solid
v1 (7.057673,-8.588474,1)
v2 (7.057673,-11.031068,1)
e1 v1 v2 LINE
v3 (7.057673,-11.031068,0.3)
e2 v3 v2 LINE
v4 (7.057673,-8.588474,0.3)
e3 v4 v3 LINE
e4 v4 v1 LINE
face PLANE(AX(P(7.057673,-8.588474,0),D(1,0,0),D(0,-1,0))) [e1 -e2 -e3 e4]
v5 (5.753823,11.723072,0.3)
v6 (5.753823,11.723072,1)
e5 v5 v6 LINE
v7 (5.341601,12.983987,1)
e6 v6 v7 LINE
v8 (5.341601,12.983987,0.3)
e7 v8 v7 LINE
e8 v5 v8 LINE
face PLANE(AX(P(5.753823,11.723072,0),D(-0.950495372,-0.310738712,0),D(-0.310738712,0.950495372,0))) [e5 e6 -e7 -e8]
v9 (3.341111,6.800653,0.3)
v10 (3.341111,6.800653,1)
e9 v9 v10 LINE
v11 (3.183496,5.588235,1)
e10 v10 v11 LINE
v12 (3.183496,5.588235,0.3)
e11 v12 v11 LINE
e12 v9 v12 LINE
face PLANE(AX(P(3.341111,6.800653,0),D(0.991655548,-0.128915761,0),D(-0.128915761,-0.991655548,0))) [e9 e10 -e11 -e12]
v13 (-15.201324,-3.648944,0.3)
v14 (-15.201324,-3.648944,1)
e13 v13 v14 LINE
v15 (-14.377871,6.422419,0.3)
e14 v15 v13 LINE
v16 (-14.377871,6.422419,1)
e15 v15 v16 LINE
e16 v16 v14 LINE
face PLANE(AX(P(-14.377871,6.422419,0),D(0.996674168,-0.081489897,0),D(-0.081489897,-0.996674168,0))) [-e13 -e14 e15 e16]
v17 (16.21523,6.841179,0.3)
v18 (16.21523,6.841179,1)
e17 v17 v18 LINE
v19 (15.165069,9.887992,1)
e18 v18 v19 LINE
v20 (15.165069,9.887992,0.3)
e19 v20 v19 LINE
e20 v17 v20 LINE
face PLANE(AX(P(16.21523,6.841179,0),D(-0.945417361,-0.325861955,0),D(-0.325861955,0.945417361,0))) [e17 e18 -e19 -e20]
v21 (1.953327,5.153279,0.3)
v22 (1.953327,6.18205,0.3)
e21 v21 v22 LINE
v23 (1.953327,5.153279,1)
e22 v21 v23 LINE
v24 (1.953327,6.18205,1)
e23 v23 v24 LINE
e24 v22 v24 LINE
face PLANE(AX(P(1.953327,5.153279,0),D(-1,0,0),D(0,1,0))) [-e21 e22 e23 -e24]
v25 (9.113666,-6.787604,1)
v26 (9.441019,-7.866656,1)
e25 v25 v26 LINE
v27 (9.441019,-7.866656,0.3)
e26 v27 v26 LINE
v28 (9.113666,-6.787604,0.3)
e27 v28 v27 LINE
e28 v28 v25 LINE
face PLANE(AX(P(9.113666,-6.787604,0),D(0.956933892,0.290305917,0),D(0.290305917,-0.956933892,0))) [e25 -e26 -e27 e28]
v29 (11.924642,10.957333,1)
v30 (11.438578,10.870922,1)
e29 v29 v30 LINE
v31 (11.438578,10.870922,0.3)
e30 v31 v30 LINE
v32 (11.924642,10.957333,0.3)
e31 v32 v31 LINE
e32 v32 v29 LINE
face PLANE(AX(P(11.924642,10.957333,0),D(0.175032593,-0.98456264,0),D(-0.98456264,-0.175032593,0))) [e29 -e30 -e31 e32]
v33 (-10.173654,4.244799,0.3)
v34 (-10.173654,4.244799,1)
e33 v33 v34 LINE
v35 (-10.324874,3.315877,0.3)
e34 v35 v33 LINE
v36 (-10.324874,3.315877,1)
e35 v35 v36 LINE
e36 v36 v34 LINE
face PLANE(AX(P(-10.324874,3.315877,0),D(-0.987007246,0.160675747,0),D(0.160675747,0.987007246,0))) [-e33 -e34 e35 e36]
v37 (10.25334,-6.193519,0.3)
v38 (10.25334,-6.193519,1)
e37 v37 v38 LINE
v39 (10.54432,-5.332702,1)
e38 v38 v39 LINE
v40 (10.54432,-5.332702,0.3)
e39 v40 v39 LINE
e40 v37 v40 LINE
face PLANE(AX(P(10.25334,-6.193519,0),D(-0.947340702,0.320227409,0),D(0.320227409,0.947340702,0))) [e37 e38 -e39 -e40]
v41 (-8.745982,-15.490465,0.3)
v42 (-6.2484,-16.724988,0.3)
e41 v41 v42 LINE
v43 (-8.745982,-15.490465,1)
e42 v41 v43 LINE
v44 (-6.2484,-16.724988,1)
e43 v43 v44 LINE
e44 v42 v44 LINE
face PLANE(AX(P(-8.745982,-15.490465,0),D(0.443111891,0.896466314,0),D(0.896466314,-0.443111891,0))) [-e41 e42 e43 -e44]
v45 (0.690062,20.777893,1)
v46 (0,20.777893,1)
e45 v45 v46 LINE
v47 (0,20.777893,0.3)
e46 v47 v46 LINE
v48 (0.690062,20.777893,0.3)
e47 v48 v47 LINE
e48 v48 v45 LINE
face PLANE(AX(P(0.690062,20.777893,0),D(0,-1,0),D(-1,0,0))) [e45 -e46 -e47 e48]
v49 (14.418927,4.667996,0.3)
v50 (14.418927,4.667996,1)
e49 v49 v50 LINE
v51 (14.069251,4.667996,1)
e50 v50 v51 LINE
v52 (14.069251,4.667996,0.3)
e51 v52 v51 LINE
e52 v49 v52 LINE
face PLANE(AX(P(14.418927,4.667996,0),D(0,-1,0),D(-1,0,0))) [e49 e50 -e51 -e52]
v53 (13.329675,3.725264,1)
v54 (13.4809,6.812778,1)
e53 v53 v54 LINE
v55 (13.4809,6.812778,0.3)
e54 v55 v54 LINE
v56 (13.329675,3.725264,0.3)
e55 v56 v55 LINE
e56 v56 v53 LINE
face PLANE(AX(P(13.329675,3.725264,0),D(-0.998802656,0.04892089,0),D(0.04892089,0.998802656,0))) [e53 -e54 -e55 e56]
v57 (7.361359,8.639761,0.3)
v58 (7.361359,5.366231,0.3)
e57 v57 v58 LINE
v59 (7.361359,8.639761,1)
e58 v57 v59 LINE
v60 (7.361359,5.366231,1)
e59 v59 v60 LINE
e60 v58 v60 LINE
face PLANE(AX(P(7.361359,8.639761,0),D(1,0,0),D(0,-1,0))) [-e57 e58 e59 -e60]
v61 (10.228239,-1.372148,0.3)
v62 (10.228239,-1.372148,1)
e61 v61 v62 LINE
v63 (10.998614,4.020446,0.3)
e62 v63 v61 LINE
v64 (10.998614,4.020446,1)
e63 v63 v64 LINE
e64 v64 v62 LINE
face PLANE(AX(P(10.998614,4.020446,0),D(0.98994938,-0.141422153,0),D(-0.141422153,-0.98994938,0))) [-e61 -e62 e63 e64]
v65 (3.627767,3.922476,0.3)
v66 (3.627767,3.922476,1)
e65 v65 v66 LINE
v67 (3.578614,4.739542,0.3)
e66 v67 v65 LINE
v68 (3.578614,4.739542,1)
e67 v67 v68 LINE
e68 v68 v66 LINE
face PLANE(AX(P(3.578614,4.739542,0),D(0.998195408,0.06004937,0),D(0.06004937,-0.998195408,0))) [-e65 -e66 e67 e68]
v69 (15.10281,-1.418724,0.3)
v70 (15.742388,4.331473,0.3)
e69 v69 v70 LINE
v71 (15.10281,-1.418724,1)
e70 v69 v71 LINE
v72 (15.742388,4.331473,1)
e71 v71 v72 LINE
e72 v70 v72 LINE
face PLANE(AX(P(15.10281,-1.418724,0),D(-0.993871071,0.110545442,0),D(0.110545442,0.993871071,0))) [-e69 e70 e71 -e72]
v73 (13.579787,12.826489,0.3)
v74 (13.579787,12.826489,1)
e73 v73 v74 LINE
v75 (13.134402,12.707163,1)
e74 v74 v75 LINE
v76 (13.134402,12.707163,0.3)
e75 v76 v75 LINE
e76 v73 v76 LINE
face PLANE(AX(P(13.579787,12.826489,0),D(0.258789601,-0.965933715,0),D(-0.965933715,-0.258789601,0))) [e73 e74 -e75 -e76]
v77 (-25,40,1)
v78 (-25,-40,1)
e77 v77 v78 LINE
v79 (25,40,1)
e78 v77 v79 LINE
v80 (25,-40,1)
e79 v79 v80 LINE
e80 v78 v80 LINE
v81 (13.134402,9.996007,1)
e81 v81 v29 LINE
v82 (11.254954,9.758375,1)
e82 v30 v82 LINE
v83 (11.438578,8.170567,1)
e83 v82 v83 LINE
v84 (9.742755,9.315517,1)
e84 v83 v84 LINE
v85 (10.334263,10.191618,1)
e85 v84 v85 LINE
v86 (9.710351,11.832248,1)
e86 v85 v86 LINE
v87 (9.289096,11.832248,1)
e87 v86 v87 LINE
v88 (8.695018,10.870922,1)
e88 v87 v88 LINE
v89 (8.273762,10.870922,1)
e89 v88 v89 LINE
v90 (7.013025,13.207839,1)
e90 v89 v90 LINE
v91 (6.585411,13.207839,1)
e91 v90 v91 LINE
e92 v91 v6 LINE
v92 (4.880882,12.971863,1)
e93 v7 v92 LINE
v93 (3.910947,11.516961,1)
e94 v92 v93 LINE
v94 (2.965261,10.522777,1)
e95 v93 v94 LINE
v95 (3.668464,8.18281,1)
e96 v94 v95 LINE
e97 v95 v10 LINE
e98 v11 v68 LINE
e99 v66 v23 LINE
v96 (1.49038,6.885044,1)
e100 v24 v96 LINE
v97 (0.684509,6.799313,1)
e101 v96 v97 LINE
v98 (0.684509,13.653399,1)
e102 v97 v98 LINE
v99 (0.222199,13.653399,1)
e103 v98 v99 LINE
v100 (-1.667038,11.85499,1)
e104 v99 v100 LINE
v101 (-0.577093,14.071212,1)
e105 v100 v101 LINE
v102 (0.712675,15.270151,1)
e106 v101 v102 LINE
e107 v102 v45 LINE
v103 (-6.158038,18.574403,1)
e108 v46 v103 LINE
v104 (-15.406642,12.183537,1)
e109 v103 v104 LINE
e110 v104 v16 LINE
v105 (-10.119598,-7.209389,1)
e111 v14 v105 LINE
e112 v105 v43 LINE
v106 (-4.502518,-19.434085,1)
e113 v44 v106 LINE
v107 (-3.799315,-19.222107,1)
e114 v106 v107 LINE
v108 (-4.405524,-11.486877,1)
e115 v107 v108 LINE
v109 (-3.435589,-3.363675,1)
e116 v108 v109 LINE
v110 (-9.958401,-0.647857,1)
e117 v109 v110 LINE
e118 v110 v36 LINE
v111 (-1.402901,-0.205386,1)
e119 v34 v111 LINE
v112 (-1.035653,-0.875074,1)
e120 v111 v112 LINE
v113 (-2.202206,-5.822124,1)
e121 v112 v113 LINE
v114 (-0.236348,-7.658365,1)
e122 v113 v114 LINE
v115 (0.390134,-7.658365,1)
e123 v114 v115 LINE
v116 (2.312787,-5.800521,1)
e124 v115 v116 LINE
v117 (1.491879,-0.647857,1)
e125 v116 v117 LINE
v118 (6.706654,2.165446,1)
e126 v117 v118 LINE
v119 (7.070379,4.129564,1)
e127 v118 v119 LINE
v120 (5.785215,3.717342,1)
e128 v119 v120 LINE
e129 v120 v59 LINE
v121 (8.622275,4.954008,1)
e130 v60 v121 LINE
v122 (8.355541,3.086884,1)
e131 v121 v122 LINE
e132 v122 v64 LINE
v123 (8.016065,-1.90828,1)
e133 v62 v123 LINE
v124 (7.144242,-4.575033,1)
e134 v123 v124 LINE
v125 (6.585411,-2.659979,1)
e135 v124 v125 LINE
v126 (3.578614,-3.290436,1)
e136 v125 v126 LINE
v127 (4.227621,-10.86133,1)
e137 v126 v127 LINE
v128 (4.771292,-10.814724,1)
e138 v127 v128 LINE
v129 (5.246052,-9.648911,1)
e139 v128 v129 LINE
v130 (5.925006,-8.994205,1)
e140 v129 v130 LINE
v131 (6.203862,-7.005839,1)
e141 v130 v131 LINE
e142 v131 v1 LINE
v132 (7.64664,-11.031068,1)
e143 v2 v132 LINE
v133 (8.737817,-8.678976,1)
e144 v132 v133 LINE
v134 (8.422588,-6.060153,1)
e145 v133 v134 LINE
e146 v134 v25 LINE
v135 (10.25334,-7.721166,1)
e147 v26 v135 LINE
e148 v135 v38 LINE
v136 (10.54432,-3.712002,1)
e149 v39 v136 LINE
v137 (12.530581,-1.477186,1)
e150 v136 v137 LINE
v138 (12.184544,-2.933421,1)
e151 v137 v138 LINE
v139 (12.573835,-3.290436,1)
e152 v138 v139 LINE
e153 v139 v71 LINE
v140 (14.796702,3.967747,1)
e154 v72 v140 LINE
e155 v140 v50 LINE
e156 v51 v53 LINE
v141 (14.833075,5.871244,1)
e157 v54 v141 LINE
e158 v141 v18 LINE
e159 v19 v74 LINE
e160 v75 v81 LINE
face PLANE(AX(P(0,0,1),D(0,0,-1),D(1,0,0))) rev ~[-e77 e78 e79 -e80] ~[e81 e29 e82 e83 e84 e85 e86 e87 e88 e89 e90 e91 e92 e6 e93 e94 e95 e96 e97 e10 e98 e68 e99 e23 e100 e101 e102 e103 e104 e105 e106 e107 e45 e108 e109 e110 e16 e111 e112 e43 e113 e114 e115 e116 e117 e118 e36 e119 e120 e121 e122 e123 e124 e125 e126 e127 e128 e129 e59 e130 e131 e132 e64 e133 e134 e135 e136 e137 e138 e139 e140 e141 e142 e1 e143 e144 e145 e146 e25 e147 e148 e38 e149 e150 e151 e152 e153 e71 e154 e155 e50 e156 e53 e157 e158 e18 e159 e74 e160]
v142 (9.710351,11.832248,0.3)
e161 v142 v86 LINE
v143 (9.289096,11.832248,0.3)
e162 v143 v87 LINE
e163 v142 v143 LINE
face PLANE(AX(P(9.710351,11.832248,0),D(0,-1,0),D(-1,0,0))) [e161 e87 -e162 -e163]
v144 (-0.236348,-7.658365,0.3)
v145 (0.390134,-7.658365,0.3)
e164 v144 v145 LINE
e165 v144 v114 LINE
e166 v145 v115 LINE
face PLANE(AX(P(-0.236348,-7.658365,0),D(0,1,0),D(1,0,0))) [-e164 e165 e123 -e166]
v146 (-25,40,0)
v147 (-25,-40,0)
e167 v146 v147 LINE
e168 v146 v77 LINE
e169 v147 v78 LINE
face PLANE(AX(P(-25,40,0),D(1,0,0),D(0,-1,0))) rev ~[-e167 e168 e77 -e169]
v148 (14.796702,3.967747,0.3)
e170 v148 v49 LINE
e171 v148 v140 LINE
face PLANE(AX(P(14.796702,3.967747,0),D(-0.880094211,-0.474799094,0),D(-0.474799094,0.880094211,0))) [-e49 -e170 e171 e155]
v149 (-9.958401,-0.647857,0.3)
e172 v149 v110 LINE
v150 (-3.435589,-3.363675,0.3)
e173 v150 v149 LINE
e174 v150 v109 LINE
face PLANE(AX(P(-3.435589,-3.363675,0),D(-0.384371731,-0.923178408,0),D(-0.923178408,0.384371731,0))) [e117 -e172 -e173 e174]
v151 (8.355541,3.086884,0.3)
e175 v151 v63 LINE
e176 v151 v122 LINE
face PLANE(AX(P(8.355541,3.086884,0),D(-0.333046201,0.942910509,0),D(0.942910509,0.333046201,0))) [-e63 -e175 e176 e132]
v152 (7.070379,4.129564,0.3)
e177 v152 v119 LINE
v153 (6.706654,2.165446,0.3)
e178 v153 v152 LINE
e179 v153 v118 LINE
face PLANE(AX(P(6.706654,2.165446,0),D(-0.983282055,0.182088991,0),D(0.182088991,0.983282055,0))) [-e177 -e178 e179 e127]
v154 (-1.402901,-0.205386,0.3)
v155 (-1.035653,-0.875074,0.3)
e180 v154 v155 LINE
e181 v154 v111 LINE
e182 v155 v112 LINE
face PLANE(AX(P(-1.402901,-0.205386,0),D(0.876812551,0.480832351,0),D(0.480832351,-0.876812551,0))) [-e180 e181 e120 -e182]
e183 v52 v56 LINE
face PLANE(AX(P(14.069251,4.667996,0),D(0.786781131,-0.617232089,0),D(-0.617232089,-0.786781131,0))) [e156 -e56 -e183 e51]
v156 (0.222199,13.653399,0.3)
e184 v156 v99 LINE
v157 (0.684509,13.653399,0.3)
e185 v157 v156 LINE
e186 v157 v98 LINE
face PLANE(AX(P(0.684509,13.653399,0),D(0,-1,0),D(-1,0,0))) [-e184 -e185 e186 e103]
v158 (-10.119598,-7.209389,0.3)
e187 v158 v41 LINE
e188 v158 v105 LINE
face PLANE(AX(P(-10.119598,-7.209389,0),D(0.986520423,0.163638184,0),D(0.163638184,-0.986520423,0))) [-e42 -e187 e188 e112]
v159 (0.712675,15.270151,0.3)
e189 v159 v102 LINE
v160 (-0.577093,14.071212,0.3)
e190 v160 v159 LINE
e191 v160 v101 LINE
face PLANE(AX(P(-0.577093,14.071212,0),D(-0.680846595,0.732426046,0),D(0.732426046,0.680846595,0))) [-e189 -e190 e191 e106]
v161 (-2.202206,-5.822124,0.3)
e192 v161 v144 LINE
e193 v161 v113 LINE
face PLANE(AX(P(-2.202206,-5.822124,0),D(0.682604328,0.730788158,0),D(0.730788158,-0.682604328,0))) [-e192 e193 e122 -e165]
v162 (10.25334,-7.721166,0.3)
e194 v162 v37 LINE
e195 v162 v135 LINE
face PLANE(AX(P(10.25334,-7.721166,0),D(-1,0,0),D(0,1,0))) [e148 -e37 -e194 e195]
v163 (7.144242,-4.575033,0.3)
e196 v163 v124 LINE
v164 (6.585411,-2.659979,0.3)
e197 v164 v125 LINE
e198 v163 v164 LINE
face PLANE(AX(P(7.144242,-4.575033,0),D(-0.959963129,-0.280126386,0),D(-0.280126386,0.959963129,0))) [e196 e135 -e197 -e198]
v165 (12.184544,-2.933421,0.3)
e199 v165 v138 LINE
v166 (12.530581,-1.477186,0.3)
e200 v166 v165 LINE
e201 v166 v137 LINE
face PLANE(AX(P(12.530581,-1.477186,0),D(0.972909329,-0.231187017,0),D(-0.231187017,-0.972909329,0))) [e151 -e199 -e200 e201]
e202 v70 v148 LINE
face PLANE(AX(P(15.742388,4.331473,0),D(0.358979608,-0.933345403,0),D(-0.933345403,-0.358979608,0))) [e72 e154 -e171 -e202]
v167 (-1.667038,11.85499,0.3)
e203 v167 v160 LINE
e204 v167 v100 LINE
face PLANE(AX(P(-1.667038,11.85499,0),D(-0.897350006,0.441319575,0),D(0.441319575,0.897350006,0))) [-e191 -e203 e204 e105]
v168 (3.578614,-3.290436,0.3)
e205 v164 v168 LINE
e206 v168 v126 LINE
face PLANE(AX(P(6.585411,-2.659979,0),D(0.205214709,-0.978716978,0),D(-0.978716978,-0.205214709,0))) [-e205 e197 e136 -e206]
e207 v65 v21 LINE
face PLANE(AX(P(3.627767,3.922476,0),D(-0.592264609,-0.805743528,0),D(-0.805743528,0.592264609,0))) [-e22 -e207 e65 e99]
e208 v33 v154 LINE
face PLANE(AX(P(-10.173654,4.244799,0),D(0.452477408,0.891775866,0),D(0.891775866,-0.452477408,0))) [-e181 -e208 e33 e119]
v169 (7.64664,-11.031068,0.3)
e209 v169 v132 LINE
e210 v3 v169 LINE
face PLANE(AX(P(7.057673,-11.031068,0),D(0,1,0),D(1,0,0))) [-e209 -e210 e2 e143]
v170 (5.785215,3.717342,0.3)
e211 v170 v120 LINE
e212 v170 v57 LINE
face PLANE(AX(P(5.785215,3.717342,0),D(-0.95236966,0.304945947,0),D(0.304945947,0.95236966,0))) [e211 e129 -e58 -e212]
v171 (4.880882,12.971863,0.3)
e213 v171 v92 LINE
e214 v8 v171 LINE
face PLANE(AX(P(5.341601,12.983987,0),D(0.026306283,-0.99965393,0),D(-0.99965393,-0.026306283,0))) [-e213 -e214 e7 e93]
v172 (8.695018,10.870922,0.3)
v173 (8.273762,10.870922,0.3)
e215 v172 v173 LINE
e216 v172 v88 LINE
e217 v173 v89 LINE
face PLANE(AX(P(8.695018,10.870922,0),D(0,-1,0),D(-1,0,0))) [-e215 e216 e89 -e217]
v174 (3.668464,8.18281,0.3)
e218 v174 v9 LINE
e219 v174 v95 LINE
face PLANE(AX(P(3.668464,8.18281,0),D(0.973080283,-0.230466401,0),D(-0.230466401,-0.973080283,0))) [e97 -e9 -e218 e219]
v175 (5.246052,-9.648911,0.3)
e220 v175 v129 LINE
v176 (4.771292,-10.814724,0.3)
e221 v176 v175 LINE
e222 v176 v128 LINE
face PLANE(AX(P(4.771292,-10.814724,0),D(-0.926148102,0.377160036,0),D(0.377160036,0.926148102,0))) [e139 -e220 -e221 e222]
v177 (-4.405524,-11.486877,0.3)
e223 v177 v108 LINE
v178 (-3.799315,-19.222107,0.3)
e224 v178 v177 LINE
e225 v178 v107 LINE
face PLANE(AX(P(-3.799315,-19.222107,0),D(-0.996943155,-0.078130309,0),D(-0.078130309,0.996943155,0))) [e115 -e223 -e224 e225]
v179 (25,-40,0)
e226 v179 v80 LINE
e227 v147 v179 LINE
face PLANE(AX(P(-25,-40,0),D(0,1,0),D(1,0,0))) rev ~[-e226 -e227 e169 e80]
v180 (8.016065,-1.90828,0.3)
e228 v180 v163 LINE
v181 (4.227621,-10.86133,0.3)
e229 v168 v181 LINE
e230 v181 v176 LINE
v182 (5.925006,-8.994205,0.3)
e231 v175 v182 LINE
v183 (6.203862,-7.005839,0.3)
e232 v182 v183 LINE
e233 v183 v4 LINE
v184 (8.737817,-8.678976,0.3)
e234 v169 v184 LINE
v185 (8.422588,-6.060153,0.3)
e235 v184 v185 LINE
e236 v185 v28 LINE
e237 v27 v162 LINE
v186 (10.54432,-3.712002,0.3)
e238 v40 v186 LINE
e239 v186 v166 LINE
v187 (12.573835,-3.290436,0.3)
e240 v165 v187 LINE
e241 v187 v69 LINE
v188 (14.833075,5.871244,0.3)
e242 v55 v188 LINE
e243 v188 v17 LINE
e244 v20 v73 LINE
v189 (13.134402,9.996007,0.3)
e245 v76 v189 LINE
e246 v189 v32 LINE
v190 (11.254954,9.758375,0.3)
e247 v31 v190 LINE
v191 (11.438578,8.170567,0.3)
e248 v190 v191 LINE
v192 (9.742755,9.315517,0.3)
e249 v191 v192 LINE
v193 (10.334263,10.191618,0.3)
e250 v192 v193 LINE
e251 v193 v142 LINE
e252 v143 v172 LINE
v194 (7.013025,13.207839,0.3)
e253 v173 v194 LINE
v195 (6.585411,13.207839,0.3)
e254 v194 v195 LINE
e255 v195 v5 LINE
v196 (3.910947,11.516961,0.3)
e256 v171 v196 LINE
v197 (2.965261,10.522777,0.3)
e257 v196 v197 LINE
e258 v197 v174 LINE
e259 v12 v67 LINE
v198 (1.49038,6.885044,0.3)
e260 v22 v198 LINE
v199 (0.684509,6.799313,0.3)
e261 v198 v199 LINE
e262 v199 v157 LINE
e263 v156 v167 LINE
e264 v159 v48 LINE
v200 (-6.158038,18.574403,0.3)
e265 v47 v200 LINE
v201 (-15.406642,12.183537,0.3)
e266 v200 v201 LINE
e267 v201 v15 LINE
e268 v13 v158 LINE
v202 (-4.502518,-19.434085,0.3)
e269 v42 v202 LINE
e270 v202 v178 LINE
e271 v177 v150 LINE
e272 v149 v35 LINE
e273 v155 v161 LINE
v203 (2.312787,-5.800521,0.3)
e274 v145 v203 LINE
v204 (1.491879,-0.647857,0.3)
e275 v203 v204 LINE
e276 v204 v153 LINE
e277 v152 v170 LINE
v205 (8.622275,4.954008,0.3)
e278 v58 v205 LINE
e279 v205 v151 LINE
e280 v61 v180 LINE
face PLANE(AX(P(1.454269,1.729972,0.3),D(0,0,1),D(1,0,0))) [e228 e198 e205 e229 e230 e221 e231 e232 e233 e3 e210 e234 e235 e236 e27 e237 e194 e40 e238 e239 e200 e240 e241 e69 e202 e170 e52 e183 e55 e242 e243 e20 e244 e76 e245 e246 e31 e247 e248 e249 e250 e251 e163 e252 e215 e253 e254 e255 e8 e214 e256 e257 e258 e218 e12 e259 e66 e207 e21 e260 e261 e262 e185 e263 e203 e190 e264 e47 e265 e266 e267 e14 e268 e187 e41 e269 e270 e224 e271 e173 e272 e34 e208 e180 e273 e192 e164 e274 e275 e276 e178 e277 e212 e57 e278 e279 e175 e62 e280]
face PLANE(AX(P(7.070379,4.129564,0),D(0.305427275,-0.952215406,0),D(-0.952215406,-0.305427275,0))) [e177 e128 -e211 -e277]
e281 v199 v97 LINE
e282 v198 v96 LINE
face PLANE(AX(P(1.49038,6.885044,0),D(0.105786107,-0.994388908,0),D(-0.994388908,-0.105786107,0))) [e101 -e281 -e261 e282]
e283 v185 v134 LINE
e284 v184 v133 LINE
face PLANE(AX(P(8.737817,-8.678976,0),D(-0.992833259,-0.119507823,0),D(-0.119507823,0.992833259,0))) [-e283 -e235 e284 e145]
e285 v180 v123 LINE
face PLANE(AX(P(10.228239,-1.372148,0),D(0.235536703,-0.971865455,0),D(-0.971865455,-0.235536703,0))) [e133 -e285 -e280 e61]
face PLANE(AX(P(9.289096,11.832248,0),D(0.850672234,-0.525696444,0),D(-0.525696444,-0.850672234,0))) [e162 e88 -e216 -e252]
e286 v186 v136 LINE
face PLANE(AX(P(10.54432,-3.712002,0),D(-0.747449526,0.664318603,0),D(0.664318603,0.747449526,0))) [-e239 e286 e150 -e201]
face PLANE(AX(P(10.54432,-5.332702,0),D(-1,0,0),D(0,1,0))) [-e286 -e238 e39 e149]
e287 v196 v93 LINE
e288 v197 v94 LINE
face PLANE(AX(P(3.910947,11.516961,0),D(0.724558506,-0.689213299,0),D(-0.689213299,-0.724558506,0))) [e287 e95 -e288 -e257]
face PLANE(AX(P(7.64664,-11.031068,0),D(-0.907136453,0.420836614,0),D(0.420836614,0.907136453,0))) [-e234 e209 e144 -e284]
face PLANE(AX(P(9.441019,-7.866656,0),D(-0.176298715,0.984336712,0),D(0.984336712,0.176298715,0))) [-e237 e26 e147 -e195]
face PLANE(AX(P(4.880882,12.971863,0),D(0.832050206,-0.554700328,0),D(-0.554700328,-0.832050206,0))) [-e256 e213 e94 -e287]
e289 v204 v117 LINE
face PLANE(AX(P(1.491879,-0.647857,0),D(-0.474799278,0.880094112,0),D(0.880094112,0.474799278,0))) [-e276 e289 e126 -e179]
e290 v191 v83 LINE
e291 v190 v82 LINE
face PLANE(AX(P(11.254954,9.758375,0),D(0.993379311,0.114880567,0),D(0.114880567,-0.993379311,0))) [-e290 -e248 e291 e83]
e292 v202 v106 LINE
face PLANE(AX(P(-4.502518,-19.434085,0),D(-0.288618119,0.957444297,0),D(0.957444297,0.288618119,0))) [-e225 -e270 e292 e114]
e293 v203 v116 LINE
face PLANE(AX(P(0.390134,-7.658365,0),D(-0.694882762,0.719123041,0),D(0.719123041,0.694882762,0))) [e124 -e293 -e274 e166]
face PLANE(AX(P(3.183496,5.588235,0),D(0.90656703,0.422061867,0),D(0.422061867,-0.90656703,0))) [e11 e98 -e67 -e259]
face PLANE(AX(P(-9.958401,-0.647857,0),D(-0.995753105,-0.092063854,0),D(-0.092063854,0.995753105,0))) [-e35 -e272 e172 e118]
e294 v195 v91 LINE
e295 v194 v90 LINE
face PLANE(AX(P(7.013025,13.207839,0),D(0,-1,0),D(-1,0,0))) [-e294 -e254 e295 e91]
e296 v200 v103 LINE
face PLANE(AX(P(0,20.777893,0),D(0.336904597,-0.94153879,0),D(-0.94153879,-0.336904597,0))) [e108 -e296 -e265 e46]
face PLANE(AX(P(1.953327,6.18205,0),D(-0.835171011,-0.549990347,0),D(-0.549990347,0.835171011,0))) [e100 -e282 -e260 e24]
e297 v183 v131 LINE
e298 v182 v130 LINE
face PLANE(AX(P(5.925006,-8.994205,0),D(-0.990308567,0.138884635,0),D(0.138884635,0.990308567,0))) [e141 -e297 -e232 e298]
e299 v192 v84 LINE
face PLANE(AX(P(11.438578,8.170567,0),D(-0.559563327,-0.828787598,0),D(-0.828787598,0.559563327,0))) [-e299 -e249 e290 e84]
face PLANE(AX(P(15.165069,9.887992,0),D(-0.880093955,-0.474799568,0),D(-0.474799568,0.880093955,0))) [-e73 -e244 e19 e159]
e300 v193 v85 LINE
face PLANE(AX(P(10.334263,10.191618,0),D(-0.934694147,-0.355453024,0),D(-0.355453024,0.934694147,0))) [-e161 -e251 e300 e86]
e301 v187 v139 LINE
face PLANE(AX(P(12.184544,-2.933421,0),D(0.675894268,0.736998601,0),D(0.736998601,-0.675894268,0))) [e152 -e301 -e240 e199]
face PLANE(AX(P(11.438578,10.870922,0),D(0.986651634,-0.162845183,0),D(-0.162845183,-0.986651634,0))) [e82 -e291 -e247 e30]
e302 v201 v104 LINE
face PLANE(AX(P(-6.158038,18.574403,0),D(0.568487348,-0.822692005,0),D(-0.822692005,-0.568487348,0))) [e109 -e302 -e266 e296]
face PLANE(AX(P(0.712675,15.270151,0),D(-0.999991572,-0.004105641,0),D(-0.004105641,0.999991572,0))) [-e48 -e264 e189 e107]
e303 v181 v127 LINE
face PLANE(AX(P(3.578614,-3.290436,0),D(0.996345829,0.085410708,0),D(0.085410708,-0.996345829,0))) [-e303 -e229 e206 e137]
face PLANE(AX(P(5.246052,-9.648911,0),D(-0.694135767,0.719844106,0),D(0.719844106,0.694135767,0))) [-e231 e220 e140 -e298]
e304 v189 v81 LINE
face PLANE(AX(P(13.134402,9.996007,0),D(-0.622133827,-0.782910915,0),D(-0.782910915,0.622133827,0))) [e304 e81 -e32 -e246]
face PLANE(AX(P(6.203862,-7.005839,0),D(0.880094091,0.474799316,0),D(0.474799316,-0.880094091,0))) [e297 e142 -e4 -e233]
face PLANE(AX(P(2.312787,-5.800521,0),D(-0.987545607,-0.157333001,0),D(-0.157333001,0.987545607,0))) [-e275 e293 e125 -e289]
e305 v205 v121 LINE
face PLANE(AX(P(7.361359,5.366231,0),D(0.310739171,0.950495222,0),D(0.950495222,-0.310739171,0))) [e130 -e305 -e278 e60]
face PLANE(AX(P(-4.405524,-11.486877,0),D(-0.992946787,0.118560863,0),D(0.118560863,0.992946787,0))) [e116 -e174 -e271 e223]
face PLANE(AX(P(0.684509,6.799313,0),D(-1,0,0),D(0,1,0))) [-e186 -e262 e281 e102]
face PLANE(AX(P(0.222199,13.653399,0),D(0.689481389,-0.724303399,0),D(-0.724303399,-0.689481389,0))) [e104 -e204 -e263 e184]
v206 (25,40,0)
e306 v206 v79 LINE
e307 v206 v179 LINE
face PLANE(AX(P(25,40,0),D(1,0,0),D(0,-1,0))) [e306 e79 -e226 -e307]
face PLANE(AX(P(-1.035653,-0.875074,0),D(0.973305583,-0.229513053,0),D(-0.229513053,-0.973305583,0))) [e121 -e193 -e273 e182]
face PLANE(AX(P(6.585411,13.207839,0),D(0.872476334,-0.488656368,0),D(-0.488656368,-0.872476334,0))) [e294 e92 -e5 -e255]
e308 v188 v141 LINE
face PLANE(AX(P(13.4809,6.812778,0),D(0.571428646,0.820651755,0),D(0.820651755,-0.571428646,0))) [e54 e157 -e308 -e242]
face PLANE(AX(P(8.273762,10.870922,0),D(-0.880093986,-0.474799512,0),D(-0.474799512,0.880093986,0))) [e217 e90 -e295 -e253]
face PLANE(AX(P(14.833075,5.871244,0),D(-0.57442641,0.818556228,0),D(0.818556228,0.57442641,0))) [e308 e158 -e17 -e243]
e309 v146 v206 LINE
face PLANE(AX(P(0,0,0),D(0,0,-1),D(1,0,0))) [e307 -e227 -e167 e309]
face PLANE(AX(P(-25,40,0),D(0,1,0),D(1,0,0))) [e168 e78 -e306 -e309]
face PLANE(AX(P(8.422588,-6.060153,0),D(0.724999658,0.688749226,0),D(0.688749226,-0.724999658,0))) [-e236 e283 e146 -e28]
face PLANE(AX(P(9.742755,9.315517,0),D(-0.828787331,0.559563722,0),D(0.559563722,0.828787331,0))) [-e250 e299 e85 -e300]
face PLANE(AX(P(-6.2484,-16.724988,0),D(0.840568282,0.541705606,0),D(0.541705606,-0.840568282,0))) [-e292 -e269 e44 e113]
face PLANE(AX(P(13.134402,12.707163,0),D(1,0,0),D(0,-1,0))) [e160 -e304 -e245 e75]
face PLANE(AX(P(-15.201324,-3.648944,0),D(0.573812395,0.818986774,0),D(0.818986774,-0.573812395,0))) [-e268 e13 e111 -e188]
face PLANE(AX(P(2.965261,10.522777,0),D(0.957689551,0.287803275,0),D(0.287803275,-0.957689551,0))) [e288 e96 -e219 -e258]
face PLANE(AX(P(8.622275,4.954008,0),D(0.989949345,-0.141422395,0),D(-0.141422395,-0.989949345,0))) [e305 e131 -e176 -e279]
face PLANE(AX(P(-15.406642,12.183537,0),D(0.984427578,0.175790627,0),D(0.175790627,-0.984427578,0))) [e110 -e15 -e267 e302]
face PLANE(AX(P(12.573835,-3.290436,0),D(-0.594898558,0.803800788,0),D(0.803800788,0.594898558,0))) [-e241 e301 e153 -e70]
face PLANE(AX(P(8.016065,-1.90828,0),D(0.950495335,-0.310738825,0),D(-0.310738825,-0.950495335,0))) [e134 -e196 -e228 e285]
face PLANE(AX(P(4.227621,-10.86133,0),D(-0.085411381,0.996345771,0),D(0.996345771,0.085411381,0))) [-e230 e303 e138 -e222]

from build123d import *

# Parameters (mm, degrees)
F1_DEPTH = 0.3
F2_W     = 50
F2_H     = 80
F3_DEPTH = 1


with BuildPart() as f1:
    # F0 (on Top) → F1 (new body)
    with BuildSketch(Plane.XY):
        Polygon((0.712675, 15.270151), (0.690062, 20.777893), (0, 20.777893), (-6.158038, 18.574403), (-15.406642, 12.183537), (-14.377871, 6.422419), (-15.201324, -3.648944), (-10.119598, -7.209389), (-8.745982, -15.490465), (-6.2484, -16.724988), (-4.502518, -19.434085), (-3.799315, -19.222107), (-4.405524, -11.486877), (-3.435589, -3.363675), (-9.958401, -0.647857), (-10.324874, 3.315877), (-10.173654, 4.244799), (-1.402901, -0.205386), (-1.035653, -0.875074), (-2.202206, -5.822124), (-0.236348, -7.658365), (0.390134, -7.658365), (2.312787, -5.800521), (1.491879, -0.647857), (6.706654, 2.165446), (7.070379, 4.129564), (5.785215, 3.717342), (7.361359, 8.639761), (7.361359, 5.366231), (8.622275, 4.954008), (8.355541, 3.086884), (10.998614, 4.020446), (10.228239, -1.372148), (8.016065, -1.90828), (7.144242, -4.575033), (6.585411, -2.659979), (3.578614, -3.290436), (4.227621, -10.86133), (4.771292, -10.814724), (5.246052, -9.648911), (5.925006, -8.994205), (6.203862, -7.005839), (7.057673, -8.588474), (7.057673, -11.031068), (7.64664, -11.031068), (8.737817, -8.678976), (8.422588, -6.060153), (9.113666, -6.787604), (9.441019, -7.866656), (10.25334, -7.721166), (10.25334, -6.193519), (10.54432, -5.332702), (10.54432, -3.712002), (12.530581, -1.477186), (12.184544, -2.933421), (12.573835, -3.290436), (15.10281, -1.418724), (15.742388, 4.331473), (14.796702, 3.967747), (14.418927, 4.667996), (14.069251, 4.667996), (13.329675, 3.725264), (13.4809, 6.812778), (14.833075, 5.871244), (16.21523, 6.841179), (15.165069, 9.887992), (13.579787, 12.826489), (13.134402, 12.707163), (13.134402, 9.996007), (11.924642, 10.957333), (11.438578, 10.870922), (11.254954, 9.758375), (11.438578, 8.170567), (9.742755, 9.315517), (10.334263, 10.191618), (9.710351, 11.832248), (9.289096, 11.832248), (8.695018, 10.870922), (8.273762, 10.870922), (7.013025, 13.207839), (6.585411, 13.207839), (5.753823, 11.723072), (5.341601, 12.983987), (4.880882, 12.971863), (3.910947, 11.516961), (2.965261, 10.522777), (3.668464, 8.18281), (3.341111, 6.800653), (3.183496, 5.588235), (3.578614, 4.739542), (3.627767, 3.922476), (1.953327, 5.153279), (1.953327, 6.18205), (1.49038, 6.885044), (0.684509, 6.799313), (0.684509, 13.653399), (0.222199, 13.653399), (-1.667038, 11.85499), (-0.577093, 14.071212), align=None)
    extrude(amount=F1_DEPTH)

    # F2 (on face) → F3 (join)
    with BuildSketch(Plane(origin=(0, 0, 0), x_dir=(1, 0, 0), z_dir=(0, 0, -1))):
        Rectangle(F2_W, F2_H)
        Polygon((0.712675, -15.270151), (0.690062, -20.777893), (0, -20.777893), (-6.158038, -18.574403), (-15.406642, -12.183537), (-14.377871, -6.422419), (-15.201324, 3.648944), (-10.119598, 7.209389), (-8.745982, 15.490465), (-6.2484, 16.724988), (-4.502518, 19.434085), (-3.799315, 19.222107), (-4.405524, 11.486877), (-3.435589, 3.363675), (-9.958401, 0.647857), (-10.324874, -3.315877), (-10.173654, -4.244799), (-1.402901, 0.205386), (-1.035653, 0.875074), (-2.202206, 5.822124), (-0.236348, 7.658365), (0.390134, 7.658365), (2.312787, 5.800521), (1.491879, 0.647857), (6.706654, -2.165446), (7.070379, -4.129564), (5.785215, -3.717342), (7.361359, -8.639761), (7.361359, -5.366231), (8.622275, -4.954008), (8.355541, -3.086884), (10.998614, -4.020446), (10.228239, 1.372148), (8.016065, 1.90828), (7.144242, 4.575033), (6.585411, 2.659979), (3.578614, 3.290436), (4.227621, 10.86133), (4.771292, 10.814724), (5.246052, 9.648911), (5.925006, 8.994205), (6.203862, 7.005839), (7.057673, 8.588474), (7.057673, 11.031068), (7.64664, 11.031068), (8.737817, 8.678976), (8.422588, 6.060153), (9.113666, 6.787604), (9.441019, 7.866656), (10.25334, 7.721166), (10.25334, 6.193519), (10.54432, 5.332702), (10.54432, 3.712002), (12.530581, 1.477186), (12.184544, 2.933421), (12.573835, 3.290436), (15.10281, 1.418724), (15.742388, -4.331473), (14.796702, -3.967747), (14.418927, -4.667996), (14.069251, -4.667996), (13.329675, -3.725264), (13.4809, -6.812778), (14.833075, -5.871244), (16.21523, -6.841179), (15.165069, -9.887992), (13.579787, -12.826489), (13.134402, -12.707163), (13.134402, -9.996007), (11.924642, -10.957333), (11.438578, -10.870922), (11.254954, -9.758375), (11.438578, -8.170567), (9.742755, -9.315517), (10.334263, -10.191618), (9.710351, -11.832248), (9.289096, -11.832248), (8.695018, -10.870922), (8.273762, -10.870922), (7.013025, -13.207839), (6.585411, -13.207839), (5.753823, -11.723072), (5.341601, -12.983987), (4.880882, -12.971863), (3.910947, -11.516961), (2.965261, -10.522777), (3.668464, -8.18281), (3.341111, -6.800653), (3.183496, -5.588235), (3.578614, -4.739542), (3.627767, -3.922476), (1.953327, -5.153279), (1.953327, -6.18205), (1.49038, -6.885044), (0.684509, -6.799313), (0.684509, -13.653399), (0.222199, -13.653399), (-1.667038, -11.85499), (-0.577093, -14.071212), align=None, mode=Mode.SUBTRACT)
    extrude(amount=-F3_DEPTH)


solid = f1.part
